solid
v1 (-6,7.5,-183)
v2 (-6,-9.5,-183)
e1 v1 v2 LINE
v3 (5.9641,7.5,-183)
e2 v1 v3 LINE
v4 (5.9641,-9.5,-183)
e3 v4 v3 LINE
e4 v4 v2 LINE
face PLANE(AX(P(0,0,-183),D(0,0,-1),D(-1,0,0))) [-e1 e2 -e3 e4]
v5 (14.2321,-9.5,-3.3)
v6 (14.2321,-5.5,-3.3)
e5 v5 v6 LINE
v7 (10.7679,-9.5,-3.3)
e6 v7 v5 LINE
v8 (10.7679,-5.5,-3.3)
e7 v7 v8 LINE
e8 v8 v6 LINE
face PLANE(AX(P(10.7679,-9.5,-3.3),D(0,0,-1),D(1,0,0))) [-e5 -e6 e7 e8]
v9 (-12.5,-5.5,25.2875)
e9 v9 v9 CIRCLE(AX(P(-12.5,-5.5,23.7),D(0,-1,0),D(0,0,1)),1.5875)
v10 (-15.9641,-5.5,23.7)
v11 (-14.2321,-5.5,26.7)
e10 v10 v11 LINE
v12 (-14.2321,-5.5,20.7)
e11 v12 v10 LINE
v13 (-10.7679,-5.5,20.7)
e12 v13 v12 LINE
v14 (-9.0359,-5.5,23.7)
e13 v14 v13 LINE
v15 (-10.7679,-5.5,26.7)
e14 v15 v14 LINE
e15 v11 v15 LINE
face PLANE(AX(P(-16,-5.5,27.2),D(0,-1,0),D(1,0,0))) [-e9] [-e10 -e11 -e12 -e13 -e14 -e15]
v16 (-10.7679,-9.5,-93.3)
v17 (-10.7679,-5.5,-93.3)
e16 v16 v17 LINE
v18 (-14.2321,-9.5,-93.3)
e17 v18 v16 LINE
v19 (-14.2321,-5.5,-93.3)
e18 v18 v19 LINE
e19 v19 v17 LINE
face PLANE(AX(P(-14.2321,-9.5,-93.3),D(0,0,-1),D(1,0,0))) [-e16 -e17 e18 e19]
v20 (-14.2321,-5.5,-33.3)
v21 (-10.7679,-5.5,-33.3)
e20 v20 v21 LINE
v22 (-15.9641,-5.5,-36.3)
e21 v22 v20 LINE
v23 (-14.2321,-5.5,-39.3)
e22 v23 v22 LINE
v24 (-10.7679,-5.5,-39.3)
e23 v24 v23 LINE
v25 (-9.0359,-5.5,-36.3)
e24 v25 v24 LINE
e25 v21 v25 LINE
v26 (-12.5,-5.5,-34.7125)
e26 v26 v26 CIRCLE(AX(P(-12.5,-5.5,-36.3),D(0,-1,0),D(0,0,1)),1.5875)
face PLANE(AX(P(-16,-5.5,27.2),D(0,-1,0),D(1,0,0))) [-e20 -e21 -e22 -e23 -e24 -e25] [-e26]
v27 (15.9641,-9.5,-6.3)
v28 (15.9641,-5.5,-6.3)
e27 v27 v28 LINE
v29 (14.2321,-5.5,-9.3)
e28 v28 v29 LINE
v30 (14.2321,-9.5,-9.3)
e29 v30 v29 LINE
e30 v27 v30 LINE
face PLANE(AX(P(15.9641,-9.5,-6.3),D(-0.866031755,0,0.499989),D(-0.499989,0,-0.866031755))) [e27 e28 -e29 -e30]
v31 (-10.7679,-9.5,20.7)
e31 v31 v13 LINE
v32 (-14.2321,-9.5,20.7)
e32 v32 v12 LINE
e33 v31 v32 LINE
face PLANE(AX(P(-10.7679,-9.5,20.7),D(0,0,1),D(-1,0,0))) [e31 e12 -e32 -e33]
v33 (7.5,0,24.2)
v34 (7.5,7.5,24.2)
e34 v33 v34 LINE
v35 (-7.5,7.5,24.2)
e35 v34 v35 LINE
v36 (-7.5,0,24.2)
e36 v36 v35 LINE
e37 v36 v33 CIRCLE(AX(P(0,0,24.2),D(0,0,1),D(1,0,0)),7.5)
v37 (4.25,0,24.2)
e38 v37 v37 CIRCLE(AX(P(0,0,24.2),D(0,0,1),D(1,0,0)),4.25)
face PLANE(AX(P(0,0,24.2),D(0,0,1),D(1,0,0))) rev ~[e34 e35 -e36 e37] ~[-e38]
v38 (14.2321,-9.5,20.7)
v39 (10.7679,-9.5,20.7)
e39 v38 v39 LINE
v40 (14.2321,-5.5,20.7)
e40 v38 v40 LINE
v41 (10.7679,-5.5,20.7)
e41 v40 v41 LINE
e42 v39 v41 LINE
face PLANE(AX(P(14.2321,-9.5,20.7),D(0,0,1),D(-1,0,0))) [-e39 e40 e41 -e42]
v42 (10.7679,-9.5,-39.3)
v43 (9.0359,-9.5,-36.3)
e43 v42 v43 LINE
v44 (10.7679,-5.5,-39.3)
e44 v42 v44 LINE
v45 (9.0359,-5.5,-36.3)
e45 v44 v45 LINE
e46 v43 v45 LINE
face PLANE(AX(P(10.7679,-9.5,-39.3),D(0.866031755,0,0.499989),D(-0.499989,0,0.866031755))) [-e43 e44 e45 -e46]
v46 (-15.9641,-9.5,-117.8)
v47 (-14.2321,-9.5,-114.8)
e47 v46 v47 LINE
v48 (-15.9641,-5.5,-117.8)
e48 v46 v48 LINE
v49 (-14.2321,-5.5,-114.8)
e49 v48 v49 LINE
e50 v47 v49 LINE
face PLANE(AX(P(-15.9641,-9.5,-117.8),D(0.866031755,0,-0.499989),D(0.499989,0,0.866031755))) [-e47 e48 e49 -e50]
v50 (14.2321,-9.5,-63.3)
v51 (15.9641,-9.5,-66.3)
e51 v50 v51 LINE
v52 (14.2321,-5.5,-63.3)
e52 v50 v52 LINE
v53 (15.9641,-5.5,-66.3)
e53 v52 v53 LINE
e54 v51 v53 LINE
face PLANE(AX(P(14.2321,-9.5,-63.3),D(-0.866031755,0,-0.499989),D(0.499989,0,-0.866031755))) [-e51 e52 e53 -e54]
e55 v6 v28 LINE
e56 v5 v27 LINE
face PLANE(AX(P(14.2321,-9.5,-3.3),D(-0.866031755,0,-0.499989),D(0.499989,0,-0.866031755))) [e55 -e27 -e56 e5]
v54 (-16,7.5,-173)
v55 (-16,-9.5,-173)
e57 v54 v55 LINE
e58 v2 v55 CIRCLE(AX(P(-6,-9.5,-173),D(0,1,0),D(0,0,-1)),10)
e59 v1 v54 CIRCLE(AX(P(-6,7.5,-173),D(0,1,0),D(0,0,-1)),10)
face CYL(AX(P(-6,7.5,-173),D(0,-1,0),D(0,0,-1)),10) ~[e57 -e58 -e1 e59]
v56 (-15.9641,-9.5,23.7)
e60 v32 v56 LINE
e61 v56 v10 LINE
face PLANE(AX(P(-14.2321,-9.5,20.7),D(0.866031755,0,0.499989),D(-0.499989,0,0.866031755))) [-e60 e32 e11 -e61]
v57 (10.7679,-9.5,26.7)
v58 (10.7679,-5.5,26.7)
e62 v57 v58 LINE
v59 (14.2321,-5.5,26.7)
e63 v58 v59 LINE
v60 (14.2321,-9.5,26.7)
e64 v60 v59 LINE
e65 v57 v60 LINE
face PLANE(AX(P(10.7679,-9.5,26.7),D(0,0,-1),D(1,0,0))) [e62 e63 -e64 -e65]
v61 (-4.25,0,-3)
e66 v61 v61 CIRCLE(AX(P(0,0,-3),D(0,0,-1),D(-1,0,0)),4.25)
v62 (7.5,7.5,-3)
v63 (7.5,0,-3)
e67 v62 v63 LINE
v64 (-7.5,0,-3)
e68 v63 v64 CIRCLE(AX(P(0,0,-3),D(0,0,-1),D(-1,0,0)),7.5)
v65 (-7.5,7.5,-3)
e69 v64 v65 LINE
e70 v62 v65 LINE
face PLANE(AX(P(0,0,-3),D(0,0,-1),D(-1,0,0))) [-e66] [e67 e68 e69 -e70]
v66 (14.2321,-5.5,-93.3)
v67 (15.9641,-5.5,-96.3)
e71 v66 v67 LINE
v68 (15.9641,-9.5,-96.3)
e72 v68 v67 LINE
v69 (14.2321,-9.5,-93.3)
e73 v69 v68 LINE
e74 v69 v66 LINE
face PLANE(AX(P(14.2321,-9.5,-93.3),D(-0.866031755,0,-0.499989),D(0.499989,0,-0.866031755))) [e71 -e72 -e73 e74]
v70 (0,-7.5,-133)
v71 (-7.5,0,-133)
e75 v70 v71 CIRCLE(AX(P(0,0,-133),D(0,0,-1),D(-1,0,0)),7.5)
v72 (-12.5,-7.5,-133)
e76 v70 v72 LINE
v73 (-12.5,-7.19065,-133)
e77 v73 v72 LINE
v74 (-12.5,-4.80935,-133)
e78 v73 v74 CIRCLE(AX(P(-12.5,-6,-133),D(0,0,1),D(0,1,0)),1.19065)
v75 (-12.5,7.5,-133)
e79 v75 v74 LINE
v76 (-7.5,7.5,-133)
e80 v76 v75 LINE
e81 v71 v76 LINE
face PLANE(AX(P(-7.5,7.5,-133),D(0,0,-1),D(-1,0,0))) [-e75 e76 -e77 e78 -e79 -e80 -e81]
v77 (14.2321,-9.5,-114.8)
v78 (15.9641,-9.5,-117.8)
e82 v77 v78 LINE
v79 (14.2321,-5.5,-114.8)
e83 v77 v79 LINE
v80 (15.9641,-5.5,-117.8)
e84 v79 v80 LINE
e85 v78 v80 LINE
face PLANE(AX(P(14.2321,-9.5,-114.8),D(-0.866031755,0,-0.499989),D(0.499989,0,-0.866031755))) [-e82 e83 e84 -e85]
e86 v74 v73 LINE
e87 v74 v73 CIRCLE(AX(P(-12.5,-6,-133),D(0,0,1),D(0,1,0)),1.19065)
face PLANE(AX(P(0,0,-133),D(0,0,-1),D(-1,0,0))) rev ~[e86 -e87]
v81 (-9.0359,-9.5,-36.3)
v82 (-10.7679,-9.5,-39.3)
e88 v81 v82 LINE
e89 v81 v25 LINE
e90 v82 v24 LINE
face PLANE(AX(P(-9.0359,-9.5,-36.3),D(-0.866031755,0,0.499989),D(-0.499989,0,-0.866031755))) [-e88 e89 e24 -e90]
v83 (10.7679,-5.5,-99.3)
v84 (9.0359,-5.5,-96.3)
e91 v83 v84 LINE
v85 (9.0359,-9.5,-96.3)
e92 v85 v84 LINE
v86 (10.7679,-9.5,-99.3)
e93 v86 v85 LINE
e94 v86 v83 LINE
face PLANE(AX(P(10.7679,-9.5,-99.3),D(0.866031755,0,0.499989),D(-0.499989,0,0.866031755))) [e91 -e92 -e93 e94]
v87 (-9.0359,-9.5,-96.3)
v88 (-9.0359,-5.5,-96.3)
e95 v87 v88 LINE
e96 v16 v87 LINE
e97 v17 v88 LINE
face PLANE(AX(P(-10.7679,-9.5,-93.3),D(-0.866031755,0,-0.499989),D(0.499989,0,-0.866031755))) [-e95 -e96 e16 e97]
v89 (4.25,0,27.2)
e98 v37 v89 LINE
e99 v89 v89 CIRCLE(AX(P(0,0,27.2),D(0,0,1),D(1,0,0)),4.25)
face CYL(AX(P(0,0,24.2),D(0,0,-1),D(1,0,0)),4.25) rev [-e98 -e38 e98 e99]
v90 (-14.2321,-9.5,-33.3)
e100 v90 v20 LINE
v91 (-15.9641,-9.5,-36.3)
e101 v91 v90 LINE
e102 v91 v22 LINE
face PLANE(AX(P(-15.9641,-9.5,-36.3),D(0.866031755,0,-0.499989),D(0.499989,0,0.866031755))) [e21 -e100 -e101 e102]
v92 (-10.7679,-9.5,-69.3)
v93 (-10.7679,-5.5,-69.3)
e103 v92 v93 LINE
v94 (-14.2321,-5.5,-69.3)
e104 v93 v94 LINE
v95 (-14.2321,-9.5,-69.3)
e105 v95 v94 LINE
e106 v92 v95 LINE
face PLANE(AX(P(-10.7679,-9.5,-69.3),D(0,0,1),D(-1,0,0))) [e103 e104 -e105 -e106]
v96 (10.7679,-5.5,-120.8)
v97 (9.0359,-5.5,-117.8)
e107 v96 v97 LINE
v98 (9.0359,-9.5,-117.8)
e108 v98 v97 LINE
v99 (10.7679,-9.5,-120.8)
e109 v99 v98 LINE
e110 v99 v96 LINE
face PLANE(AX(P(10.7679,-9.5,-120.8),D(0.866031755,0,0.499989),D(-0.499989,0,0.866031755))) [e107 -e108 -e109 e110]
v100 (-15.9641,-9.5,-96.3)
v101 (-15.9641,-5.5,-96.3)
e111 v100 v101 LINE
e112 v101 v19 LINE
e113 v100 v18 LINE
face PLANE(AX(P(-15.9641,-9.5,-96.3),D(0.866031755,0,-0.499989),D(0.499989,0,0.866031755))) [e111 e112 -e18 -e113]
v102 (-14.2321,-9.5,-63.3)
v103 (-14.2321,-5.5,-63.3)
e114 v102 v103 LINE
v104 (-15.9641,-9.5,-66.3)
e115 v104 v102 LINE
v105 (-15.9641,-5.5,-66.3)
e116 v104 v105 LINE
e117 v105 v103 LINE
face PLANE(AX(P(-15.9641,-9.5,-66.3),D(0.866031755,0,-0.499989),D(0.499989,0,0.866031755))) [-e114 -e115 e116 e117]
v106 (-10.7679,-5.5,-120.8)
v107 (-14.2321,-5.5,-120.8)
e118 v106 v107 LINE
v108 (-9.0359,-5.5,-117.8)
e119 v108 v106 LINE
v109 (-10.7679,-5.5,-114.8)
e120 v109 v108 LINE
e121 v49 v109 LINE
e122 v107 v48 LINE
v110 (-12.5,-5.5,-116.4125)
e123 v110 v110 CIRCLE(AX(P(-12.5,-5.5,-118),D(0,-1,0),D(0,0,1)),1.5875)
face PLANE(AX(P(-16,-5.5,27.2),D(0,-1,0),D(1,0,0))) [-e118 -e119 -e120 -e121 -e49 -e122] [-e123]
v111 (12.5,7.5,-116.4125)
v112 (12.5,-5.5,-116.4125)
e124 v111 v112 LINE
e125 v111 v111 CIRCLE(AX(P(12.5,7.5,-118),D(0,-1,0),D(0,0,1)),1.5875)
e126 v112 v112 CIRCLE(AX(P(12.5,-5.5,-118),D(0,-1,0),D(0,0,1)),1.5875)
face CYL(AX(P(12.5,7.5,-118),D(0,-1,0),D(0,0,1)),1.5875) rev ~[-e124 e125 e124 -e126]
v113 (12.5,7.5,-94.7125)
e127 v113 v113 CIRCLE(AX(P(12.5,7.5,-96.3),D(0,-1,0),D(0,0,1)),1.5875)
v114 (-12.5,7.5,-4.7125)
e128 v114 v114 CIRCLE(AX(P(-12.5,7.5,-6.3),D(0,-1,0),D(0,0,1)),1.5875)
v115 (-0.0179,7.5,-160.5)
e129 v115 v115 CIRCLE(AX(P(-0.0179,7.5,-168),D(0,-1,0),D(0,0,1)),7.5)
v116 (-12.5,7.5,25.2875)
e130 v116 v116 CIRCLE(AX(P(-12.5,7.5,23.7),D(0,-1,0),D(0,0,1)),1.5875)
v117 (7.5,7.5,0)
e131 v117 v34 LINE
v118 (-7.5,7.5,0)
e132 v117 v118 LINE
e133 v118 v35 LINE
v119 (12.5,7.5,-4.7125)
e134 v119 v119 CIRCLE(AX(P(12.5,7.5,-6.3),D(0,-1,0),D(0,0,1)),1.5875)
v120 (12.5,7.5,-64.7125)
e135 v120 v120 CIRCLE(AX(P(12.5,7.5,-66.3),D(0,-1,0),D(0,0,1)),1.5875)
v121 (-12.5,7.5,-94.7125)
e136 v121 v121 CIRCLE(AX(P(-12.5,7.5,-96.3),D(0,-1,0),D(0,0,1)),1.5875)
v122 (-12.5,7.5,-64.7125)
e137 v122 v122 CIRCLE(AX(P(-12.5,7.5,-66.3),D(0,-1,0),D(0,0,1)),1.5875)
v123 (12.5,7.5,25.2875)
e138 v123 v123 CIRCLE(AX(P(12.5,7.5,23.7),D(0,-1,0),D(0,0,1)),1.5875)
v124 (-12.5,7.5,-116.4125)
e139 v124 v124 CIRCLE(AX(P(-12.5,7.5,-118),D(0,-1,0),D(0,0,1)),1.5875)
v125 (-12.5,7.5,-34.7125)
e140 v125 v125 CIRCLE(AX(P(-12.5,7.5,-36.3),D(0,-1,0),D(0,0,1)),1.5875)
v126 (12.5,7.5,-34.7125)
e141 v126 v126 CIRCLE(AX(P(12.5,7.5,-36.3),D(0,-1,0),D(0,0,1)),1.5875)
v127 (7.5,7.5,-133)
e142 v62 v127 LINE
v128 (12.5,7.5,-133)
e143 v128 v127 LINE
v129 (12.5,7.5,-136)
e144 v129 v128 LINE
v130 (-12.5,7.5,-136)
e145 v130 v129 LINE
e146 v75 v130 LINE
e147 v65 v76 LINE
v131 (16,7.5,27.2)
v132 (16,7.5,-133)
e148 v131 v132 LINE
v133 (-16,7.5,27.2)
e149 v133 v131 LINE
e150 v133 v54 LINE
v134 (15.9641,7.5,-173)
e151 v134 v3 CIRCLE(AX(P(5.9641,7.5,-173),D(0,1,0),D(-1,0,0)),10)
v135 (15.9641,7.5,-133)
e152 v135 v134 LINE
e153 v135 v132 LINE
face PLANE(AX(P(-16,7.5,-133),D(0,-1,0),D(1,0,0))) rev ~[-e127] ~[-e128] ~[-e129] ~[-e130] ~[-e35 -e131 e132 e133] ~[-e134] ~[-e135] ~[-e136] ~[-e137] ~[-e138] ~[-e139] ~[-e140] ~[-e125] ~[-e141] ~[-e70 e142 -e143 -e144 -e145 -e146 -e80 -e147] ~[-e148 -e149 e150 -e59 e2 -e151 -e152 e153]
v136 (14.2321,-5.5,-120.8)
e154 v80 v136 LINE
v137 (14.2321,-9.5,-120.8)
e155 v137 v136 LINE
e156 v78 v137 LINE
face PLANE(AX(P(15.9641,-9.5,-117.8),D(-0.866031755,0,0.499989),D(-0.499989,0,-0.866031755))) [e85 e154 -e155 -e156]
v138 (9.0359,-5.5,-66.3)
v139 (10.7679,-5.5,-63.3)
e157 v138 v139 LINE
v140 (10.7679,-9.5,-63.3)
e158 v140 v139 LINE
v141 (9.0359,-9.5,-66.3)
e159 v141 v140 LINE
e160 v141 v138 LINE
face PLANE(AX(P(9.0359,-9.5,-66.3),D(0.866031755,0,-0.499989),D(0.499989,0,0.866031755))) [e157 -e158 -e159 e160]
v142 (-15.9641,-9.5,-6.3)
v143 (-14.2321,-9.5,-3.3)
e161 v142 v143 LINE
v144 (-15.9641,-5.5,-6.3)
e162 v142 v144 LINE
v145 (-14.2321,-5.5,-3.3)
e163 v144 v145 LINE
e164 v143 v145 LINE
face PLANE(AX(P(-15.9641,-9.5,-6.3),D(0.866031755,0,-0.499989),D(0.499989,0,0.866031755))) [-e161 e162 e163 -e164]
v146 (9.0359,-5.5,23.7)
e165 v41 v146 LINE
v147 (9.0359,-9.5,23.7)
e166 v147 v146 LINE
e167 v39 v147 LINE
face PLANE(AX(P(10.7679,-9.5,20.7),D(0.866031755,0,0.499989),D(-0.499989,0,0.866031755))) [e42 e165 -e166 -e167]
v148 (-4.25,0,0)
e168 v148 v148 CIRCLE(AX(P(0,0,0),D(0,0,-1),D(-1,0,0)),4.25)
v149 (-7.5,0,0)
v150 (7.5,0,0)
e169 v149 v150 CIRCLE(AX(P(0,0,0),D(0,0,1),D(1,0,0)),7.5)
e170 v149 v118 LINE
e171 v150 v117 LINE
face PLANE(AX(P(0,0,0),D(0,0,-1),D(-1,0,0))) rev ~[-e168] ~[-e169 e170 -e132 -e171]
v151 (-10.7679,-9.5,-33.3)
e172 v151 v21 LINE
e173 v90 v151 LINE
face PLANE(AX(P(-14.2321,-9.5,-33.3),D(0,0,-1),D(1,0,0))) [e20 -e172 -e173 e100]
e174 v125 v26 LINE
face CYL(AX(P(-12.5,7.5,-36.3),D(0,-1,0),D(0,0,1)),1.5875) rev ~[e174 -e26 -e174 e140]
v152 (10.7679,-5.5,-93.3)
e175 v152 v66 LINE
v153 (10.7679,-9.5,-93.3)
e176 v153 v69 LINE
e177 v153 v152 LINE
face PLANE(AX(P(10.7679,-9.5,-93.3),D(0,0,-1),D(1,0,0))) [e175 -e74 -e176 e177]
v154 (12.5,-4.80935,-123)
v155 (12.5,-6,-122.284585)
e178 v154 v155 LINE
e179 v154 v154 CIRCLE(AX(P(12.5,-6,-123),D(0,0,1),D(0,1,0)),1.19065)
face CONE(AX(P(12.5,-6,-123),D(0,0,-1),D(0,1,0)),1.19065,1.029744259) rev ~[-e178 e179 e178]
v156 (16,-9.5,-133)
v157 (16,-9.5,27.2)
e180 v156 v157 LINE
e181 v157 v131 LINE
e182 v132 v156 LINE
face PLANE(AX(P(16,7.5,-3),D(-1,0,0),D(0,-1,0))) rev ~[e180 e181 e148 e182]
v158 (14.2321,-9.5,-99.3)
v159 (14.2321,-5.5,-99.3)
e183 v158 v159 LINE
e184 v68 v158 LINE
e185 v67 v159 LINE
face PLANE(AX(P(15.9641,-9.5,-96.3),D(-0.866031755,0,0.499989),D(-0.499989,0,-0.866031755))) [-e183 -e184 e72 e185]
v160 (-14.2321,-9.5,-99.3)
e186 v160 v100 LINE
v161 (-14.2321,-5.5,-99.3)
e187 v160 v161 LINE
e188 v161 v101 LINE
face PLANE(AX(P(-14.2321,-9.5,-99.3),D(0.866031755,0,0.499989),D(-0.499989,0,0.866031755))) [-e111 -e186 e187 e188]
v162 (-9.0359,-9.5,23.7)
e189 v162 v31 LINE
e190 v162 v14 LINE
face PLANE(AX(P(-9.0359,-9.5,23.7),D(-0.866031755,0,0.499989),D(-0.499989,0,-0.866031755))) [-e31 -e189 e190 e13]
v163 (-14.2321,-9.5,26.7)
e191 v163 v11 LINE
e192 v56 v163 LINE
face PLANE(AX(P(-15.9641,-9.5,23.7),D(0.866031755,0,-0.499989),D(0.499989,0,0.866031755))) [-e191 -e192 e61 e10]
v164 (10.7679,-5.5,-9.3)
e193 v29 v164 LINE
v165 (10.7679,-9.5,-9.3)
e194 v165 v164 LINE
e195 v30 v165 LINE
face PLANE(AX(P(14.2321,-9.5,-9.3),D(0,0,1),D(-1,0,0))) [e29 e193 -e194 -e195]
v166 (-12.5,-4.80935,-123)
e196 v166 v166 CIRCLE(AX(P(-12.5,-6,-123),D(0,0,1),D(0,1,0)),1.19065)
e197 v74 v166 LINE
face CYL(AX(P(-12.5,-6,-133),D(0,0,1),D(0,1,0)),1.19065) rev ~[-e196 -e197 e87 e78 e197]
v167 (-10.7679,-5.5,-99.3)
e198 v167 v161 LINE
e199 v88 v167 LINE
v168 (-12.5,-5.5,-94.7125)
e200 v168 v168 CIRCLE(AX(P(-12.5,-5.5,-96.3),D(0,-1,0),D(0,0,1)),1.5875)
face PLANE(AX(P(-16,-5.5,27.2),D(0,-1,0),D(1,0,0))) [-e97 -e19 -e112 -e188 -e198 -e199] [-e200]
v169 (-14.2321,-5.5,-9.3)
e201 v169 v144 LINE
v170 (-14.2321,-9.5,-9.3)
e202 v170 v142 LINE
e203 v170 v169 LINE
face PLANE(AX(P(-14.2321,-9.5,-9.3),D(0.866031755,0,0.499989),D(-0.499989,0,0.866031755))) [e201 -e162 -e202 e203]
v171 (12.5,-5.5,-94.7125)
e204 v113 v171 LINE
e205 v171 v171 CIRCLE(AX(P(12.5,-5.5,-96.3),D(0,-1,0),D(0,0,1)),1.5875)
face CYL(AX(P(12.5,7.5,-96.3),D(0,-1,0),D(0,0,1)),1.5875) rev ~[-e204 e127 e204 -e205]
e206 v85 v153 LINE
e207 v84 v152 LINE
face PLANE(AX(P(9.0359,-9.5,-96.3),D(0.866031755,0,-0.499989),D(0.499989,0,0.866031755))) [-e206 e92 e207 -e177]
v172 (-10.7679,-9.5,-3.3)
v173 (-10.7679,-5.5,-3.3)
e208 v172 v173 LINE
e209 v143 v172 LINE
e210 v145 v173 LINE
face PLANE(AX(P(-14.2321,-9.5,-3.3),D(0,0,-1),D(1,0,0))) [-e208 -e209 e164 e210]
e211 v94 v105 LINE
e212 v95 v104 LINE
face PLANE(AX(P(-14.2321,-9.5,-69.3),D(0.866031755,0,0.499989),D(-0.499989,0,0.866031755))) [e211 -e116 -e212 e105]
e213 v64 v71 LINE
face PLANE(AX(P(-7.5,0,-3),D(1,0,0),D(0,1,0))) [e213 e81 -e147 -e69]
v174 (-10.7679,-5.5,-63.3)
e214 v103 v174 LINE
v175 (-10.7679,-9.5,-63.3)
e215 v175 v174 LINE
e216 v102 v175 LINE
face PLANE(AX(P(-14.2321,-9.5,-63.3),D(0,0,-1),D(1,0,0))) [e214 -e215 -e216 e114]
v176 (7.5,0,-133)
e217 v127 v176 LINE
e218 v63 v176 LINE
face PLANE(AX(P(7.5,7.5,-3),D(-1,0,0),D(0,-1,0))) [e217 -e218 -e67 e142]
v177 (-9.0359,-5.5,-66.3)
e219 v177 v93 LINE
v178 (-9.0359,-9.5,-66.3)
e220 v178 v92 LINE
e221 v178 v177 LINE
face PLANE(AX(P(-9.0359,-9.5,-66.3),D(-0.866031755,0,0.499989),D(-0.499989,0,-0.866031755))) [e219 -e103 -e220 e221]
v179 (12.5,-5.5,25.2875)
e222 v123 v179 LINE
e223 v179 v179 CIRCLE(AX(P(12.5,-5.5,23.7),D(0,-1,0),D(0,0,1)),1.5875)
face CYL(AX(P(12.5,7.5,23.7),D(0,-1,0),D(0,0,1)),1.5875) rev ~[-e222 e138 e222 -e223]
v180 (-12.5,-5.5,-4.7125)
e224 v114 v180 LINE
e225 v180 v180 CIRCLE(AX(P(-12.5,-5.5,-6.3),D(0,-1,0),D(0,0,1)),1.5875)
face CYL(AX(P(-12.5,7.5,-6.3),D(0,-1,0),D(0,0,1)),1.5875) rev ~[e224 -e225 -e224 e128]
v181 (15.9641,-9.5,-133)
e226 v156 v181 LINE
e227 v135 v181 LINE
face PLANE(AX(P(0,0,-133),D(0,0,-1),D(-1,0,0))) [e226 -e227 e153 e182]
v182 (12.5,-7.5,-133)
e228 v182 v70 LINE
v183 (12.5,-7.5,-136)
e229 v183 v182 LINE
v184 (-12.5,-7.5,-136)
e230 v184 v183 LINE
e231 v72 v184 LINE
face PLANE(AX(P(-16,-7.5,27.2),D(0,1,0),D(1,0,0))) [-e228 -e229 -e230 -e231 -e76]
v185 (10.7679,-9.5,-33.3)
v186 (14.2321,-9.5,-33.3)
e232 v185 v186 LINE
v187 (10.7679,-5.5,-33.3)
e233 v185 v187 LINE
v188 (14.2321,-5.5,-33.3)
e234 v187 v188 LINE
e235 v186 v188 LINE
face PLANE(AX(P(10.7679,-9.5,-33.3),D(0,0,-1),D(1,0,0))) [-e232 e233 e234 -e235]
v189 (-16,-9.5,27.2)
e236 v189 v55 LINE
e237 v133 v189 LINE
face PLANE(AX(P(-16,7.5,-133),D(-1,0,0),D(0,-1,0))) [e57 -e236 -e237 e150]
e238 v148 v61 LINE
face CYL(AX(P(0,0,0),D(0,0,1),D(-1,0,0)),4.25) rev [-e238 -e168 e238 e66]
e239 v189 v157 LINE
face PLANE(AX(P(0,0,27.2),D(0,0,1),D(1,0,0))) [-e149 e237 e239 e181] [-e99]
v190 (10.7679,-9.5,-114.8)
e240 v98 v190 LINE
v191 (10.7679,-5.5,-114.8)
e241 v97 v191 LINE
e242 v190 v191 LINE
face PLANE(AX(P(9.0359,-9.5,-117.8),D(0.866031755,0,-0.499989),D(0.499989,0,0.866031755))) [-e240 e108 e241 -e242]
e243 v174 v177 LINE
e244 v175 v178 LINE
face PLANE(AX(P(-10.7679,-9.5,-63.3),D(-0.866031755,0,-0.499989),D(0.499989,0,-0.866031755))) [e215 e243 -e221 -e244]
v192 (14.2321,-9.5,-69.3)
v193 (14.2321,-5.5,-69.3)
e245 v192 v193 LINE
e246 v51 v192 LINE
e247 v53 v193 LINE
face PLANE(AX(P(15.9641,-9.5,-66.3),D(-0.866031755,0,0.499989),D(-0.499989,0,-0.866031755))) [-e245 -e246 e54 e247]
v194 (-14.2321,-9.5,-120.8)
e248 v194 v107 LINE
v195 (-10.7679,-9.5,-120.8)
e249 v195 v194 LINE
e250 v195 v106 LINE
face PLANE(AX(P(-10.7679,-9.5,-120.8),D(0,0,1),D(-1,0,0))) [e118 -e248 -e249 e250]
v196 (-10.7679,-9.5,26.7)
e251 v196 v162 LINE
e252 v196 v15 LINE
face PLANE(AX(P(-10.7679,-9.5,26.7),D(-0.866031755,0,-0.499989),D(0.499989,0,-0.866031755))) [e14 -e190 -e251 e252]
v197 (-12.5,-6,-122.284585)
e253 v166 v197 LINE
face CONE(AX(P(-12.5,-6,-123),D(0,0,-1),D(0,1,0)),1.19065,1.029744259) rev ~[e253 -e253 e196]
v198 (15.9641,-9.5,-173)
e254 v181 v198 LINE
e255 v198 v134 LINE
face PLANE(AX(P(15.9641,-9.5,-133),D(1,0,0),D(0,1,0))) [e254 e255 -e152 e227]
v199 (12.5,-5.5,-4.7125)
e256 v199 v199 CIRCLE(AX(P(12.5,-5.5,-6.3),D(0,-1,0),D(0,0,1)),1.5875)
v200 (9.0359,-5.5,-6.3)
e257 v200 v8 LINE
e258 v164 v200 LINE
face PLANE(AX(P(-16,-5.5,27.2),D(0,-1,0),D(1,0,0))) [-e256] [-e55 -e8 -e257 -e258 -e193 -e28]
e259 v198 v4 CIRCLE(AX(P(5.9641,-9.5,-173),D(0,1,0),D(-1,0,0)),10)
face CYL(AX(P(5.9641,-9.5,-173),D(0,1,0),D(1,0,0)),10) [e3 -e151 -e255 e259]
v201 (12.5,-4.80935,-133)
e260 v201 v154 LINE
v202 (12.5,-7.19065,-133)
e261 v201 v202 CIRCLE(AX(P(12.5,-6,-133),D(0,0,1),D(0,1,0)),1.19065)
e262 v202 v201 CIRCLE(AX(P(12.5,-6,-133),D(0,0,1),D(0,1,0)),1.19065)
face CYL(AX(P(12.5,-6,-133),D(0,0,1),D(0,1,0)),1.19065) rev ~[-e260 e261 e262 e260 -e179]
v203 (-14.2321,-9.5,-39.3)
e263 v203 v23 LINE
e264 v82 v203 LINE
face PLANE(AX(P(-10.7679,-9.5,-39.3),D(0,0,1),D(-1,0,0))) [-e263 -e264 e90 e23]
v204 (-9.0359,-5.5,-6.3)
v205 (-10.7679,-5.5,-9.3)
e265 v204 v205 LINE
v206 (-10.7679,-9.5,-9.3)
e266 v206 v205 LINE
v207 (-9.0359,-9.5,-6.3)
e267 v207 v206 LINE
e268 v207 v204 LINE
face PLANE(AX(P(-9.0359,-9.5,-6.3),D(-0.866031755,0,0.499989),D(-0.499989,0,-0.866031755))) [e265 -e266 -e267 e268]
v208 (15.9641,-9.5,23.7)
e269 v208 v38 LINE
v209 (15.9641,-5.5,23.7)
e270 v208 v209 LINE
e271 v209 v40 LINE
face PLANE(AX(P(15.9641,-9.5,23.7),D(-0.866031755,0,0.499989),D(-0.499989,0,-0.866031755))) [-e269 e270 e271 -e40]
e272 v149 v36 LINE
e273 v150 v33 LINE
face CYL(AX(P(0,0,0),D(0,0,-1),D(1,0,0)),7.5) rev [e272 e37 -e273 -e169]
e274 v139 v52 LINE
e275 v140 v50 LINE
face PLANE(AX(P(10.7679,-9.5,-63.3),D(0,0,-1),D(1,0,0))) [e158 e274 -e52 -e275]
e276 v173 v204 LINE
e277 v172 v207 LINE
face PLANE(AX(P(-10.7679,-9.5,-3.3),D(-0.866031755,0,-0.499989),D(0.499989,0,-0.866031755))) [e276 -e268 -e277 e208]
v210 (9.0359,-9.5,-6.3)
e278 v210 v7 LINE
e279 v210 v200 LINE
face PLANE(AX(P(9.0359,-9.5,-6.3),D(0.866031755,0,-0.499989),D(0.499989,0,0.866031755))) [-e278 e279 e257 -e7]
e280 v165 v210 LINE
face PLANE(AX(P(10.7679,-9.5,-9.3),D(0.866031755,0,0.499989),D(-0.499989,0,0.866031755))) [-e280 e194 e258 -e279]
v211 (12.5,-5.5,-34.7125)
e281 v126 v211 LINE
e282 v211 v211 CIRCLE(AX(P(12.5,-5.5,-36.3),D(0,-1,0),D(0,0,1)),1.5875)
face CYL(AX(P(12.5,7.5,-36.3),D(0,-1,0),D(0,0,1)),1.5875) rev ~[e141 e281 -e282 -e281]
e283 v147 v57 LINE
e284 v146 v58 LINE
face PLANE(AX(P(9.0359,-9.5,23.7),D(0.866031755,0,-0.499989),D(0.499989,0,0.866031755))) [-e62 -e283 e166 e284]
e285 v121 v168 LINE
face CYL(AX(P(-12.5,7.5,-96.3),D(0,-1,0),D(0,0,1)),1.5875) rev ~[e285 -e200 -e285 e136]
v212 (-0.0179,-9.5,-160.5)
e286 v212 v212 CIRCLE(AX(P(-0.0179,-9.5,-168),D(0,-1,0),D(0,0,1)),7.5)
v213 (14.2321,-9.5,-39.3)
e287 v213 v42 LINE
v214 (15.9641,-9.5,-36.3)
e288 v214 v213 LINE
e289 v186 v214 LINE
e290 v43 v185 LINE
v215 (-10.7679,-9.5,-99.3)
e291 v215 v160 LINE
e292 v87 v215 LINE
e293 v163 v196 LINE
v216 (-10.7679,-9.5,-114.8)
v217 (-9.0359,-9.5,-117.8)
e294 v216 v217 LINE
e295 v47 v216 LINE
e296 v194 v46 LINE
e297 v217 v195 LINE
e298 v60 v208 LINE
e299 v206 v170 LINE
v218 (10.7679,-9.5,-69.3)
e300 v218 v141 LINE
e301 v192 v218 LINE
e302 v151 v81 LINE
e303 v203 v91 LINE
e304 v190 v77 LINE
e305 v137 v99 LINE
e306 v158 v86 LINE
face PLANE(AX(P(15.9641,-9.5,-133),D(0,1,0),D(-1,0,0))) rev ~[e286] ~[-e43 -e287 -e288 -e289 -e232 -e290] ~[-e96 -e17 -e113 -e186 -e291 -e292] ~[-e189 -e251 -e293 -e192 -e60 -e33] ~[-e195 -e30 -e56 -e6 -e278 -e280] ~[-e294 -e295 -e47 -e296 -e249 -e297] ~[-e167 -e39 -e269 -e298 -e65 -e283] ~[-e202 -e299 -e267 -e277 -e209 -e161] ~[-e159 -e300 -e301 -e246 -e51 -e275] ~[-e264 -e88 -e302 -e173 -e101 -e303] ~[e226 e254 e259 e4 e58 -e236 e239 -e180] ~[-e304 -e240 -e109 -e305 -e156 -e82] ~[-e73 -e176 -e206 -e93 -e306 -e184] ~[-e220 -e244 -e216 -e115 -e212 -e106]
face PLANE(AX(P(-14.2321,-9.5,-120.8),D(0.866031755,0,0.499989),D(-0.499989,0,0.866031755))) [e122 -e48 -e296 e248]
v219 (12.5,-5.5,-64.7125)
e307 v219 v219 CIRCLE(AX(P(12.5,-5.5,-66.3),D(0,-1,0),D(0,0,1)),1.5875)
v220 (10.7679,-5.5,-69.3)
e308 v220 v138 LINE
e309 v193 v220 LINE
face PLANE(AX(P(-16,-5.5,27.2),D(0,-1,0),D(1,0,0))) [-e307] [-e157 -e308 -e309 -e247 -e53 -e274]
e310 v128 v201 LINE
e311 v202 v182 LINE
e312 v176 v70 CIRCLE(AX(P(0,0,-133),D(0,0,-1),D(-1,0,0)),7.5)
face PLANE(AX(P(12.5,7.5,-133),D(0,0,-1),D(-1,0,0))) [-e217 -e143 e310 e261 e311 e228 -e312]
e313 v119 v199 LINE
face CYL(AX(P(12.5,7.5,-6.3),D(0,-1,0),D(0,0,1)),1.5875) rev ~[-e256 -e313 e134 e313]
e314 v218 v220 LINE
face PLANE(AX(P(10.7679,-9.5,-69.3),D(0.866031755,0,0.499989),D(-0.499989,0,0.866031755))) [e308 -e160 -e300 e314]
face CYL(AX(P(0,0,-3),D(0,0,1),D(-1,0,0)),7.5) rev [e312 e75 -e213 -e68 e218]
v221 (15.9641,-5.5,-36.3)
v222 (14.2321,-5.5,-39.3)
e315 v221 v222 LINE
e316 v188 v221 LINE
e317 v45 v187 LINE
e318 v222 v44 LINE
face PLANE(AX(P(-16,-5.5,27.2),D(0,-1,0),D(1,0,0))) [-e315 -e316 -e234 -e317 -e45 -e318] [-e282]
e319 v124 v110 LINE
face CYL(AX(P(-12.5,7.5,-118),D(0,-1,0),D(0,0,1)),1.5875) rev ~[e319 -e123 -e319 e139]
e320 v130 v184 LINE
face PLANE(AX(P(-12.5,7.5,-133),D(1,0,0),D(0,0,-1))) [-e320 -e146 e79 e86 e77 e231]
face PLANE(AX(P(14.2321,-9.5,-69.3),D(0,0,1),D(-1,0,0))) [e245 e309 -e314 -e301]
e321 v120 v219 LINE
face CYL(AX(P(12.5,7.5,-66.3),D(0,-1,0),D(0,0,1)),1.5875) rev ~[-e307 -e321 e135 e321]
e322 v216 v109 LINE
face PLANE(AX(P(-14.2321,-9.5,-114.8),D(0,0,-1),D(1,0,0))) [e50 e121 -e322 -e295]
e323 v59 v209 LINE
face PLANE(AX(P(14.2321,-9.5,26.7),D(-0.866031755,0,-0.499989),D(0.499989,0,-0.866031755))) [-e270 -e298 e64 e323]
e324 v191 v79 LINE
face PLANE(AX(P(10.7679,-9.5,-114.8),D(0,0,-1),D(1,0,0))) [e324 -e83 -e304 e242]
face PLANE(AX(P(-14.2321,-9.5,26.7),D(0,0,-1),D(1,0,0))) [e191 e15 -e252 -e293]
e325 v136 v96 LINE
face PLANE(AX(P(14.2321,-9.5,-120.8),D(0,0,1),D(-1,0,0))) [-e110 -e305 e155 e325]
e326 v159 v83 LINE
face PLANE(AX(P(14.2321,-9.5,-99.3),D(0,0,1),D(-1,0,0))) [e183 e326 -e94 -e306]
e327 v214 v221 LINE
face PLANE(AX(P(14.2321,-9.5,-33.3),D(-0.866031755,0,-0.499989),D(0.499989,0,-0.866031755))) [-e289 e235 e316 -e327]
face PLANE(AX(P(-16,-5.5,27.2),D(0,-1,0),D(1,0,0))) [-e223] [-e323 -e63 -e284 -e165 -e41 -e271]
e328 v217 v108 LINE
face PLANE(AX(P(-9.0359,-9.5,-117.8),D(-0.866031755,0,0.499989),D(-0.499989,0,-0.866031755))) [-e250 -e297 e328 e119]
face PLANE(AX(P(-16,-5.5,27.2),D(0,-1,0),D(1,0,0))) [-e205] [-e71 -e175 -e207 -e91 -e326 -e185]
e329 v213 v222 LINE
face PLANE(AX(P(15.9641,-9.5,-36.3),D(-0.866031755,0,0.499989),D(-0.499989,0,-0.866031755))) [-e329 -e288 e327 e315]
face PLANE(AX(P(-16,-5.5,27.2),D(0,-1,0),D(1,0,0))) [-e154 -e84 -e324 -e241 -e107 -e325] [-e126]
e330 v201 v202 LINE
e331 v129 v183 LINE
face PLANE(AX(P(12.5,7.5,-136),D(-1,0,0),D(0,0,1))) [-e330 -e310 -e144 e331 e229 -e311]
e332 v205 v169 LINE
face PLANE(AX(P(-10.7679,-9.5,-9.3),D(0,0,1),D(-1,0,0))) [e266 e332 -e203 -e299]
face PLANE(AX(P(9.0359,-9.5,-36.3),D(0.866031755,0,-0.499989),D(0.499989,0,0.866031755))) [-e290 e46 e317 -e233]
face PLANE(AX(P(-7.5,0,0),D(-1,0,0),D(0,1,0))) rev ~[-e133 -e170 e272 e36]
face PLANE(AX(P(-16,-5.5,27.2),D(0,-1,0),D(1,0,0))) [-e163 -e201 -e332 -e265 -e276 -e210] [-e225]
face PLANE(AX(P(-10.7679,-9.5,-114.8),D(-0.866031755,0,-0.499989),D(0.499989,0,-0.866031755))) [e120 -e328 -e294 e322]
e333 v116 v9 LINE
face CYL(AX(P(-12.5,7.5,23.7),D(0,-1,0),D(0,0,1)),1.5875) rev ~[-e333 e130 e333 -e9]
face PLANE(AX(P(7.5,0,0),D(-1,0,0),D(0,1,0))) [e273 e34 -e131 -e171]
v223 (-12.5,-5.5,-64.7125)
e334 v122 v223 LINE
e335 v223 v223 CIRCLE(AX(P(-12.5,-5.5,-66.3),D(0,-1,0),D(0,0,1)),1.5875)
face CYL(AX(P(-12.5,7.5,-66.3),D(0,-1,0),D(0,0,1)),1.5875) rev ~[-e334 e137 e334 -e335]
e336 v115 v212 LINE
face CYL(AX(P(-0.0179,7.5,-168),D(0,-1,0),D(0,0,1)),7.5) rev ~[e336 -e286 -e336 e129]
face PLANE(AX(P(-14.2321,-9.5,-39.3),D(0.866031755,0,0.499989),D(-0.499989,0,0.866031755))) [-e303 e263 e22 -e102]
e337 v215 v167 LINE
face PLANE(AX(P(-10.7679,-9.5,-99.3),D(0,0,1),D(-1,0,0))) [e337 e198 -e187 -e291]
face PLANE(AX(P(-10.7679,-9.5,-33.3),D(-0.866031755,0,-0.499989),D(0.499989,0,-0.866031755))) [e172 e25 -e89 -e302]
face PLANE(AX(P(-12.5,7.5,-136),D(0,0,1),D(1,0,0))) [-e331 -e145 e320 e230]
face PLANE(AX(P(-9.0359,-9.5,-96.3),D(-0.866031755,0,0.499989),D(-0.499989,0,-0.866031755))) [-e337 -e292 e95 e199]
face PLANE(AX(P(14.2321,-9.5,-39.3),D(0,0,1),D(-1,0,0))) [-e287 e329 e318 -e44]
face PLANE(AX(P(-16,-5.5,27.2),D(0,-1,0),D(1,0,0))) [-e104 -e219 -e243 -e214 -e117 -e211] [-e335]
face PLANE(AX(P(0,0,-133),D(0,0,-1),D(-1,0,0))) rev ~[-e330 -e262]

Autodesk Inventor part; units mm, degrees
ref_plane "YZ Plane" through (0, 0, 0) normal (1, 0, 0) x (0, 1, 0)
ref_plane "XZ Plane" through (0, 0, 0) normal (0, 1, 0) x (-1, 0, 0)
ref_plane "XY Plane" through (0, 0, 0) normal (0, 0, 1) x (1, 0, 0)
sketch "Sketch1" plane through (0, 0, 0) normal (0, 0, 1) x (1, 0, 0)
  circle A0 centre (0, 0) radius 7.5
  line L0 (-16, 7.5) -> (16, 7.5)
  line L1 (16, 7.5) -> (16, -9.5)
  line L2 (16, -9.5) -> (-16, -9.5)
  line L3 (-16, -9.5) -> (-16, 7.5)
  line L4 (-7.5, 0) -> (-7.5, 7.5)
  line L5 (7.5, 0) -> (7.5, 7.5)
  point P0 (0, -9.5)
  dimension "d0" = 15
  dimension "d5" = 32
  dimension "d6" = 2
extrude "Extrusion1" add sketch "Sketch1" along normal blind 24.2 contours A0 L5 L0 L1 L2 L3 L4
sketch "Sketch2" plane through (0, 0, 24.2) normal (0, 0, 1) x (1, 0, 0)
  line L0 (-16, -9.5) -> (16, -9.5) projected
  line L1 (16, -9.5) -> (16, 7.5) projected
  line L2 (16, 7.5) -> (7.5, 7.5) projected
  line L3 (7.5, 7.5) -> (7.5, 0) projected
  arc A0 (-7.5, 0) -> (7.5, 0) centre (0, 0) ccw projected
  line L4 (-7.5, 0) -> (-7.5, 7.5) projected
  line L5 (-7.5, 7.5) -> (-16, 7.5) projected
  line L6 (-16, 7.5) -> (-16, -9.5) projected
  circle A1 centre (0, 0) radius 4.25
  line L7 (-7.5, 7.5) -> (-16, 7.5) projected
  line L8 (-7.5, 7.5) -> (7.5, 7.5)
  dimension "d10" = 8.5
extrude "Extrusion3" add sketch "Sketch2" along normal blind 3
sketch "Sketch4" plane through (0, 0, 0) normal (0, 0, -1) x (-1, 0, 0)
  line L0 (-16, 7.5) -> (-7.5, 7.5) projected
  line L1 (-16, -9.5) -> (-16, 7.5) projected
  line L2 (16, -9.5) -> (-16, -9.5) projected
  line L3 (16, 7.5) -> (16, -9.5) projected
  line L4 (7.5, 7.5) -> (16, 7.5) projected
  line L5 (-7.5, 7.5) -> (7.5, 7.5) projected
  circle A0 centre (0, 0) radius 4.25 projected
extrude "Extrusion4" add sketch "Sketch4" along normal blind 3
sketch "Sketch5" plane through (0, 0, -3) normal (0, 0, -1) x (-1, 0, 0)
  line L0 (16, 7.5) -> (-16, 7.5) projected
  line L1 (16, -9.5) -> (16, 7.5) projected
  line L2 (-16, -9.5) -> (16, -9.5) projected
  line L3 (-16, 7.5) -> (-16, -9.5) projected
  circle A0 centre (0, 0) radius 7.5
  arc A1 (-7.5, 0) -> (7.5, 0) centre (0, 0) ccw projected
  line L4 (7.5, 0) -> (7.5, 7.5)
  line L5 (-16, 7.5) -> (16, 7.5) projected
  line L6 (-7.5, 7.5) -> (-7.5, 0) projected
  line L7 (-7.5, 0) -> (-7.5, 7.5)
extrude "Extrusion5" add sketch "Sketch5" along normal blind 130 contours L1 L2 L3 L0 L6 A0 L4
sketch "Sketch6" plane through (0, 0, -133) normal (0, 0, -1) x (-1, 0, 0)
  line L0 (0, 0) -> (0, -9.5) construction
  line L1 (16, -9.5) -> (-16, -9.5) construction
  line L2 (-16, 7.5) -> (-16, -9.5) construction
  point P0 (-12.5, -6)
  point P1 (12.5, -6)
  dimension "d17" = 3.5
  dimension "d18" = 3.5
hole "Hole1" at (12.5, -6, -133) at (-12.5, -6, -133) direction (0, 0, 1) diameter 2.3813 depth 10 tip angle 118
sketch "Sketch7" plane through (-16, 7.5, 27.2) normal (0, 1, 0) x (1, 0, 0)
  line L0 (16, 0) -> (16, 160.2) construction
  line L1 (32, 160.2) -> (0, 160.2) projected
  line L2 (0, 160.2) -> (0, 0) projected
  line L3 (32, 0) -> (0, 0) projected
  point P0 (16, 27.2)
  point P1 (3.5, 3.5)
  point P2 (3.5, 33.5)
  point P3 (3.5, 63.5)
  point P4 (3.5, 93.5)
  point P5 (3.5, 123.5)
  point P6 (3.5, 145.2)
  point P7 (28.5, 3.5)
  point P8 (28.5, 33.5)
  point P9 (28.5, 63.5)
  point P10 (28.5, 93.5)
  point P11 (28.5, 123.5)
  point P12 (28.5, 145.2)
  dimension "d27" = 3.5
  dimension "d44" = 30
  dimension "d49" = 3.5
  dimension "d50" = 15
hole "Hole3" at (-12.5, 7.5, 23.7) at (-12.5, 7.5, -6.3) at (-12.5, 7.5, -36.3) at (-12.5, 7.5, -66.3) at (-12.5, 7.5, -96.3) at (-12.5, 7.5, -118) at (12.5, 7.5, 23.7) at (12.5, 7.5, -6.3) at (12.5, 7.5, -36.3) at (12.5, 7.5, -66.3) at (12.5, 7.5, -96.3) at (12.5, 7.5, -118) direction (0, -1, 0) diameter 3.175 end through all
sketch "Sketch8" plane through (-16, -9.5, 27.2) normal (0, -1, 0) x (1, 0, 0)
  circle A0 centre (28.5, -3.5) radius 1.5875 projected
  line L0 (30.2321, -6.5) -> (26.7679, -6.5)
  line L1 (26.7679, -6.5) -> (25.0359, -3.5)
  line L2 (25.0359, -3.5) -> (26.7679, -0.5)
  line L3 (26.7679, -0.5) -> (30.2321, -0.5)
  line L4 (30.2321, -0.5) -> (31.9641, -3.5)
  line L5 (31.9641, -3.5) -> (30.2321, -6.5)
  line L6 (5.2321, -6.5) -> (1.7679, -6.5)
  line L7 (1.7679, -0.5) -> (5.2321, -0.5)
  line L8 (5.2321, -0.5) -> (6.9641, -3.5)
  line L9 (6.9641, -3.5) -> (5.2321, -6.5)
  line L10 (1.7679, -6.5) -> (0.0359, -3.5)
  line L11 (0.0359, -3.5) -> (1.7679, -0.5)
  line L12 (0, 0) -> (0, -160.2) projected
  line L13 (1.7679, -36.5) -> (0.0359, -33.5)
  line L14 (0.0359, -33.5) -> (1.7679, -30.5)
  line L15 (1.7679, -30.5) -> (5.2321, -30.5)
  line L16 (5.2321, -30.5) -> (6.9641, -33.5)
  line L17 (6.9641, -33.5) -> (5.2321, -36.5)
  line L18 (25.0359, -33.5) -> (26.7679, -30.5)
  line L19 (26.7679, -36.5) -> (25.0359, -33.5)
  line L20 (30.2321, -36.5) -> (26.7679, -36.5)
  line L21 (31.9641, -33.5) -> (30.2321, -36.5)
  line L22 (30.2321, -30.5) -> (31.9641, -33.5)
  line L23 (26.7679, -30.5) -> (30.2321, -30.5)
  line L24 (1.7679, -66.5) -> (0.0359, -63.5)
  line L25 (0.0359, -63.5) -> (1.7679, -60.5)
  line L26 (1.7679, -60.5) -> (5.2321, -60.5)
  line L27 (5.2321, -60.5) -> (6.9641, -63.5)
  line L28 (6.9641, -63.5) -> (5.2321, -66.5)
  line L29 (25.0359, -63.5) -> (26.7679, -60.5)
  line L30 (26.7679, -66.5) -> (25.0359, -63.5)
  line L31 (30.2321, -66.5) -> (26.7679, -66.5)
  line L32 (31.9641, -63.5) -> (30.2321, -66.5)
  line L33 (30.2321, -60.5) -> (31.9641, -63.5)
  line L34 (26.7679, -60.5) -> (30.2321, -60.5)
  line L35 (1.7679, -96.5) -> (0.0359, -93.5)
  line L36 (0.0359, -93.5) -> (1.7679, -90.5)
  line L37 (1.7679, -90.5) -> (5.2321, -90.5)
  line L38 (5.2321, -90.5) -> (6.9641, -93.5)
  line L39 (6.9641, -93.5) -> (5.2321, -96.5)
  line L40 (25.0359, -93.5) -> (26.7679, -90.5)
  line L41 (26.7679, -96.5) -> (25.0359, -93.5)
  line L42 (30.2321, -96.5) -> (26.7679, -96.5)
  line L43 (31.9641, -93.5) -> (30.2321, -96.5)
  line L44 (30.2321, -90.5) -> (31.9641, -93.5)
  line L45 (26.7679, -90.5) -> (30.2321, -90.5)
  line L46 (1.7679, -126.5) -> (0.0359, -123.5)
  line L47 (0.0359, -123.5) -> (1.7679, -120.5)
  line L48 (1.7679, -120.5) -> (5.2321, -120.5)
  line L49 (5.2321, -120.5) -> (6.9641, -123.5)
  line L50 (6.9641, -123.5) -> (5.2321, -126.5)
  line L51 (25.0359, -123.5) -> (26.7679, -120.5)
  line L52 (26.7679, -126.5) -> (25.0359, -123.5)
  line L53 (30.2321, -126.5) -> (26.7679, -126.5)
  line L54 (31.9641, -123.5) -> (30.2321, -126.5)
  line L55 (30.2321, -120.5) -> (31.9641, -123.5)
  line L56 (26.7679, -120.5) -> (30.2321, -120.5)
  line L57 (5.2321, -36.5) -> (1.7679, -36.5)
  line L58 (5.2321, -66.5) -> (1.7679, -66.5)
  line L59 (5.2321, -96.5) -> (1.7679, -96.5)
  line L60 (5.2321, -126.5) -> (1.7679, -126.5)
  line L61 (30.2321, -148) -> (26.7679, -148)
  line L62 (31.9641, -145) -> (30.2321, -148)
  line L63 (30.2321, -142) -> (31.9641, -145)
  line L64 (26.7679, -142) -> (30.2321, -142)
  line L65 (25.0359, -145) -> (26.7679, -142)
  line L66 (26.7679, -148) -> (25.0359, -145)
  line L67 (5.2321, -142) -> (6.9641, -145)
  line L68 (6.9641, -145) -> (5.2321, -148)
  line L69 (5.2321, -148) -> (1.7679, -148)
  line L70 (1.7679, -148) -> (0.0359, -145)
  line L71 (0.0359, -145) -> (1.7679, -142)
  line L72 (1.7679, -142) -> (5.2321, -142)
  point P0 (16, -27.2)
  point P1 (1.7679, -126.5)
  point P2 (5.2321, -126.5)
  dimension "d58" = 6
  dimension "d61" = 25
  dimension "d68" = 30
  dimension "d75" = 30
  dimension "d82" = 21.5
extrude "Extrusion6" cut sketch "Sketch8" against normal blind 4 contours A0 | L0 L1 L2 L3 L4 L5 | L6 L10 L11 L7 L8 L9 | L13 L14 L15 L16 L17 L57 | L18 L23 L22 L21 L20 L19 | L24 L25 L26 L27 L28 L58 | L29 L34 L33 L32 L31 L30 | L35 L36 L37 L38 L39 L59 | L40 L45 L44 L43 L42 L41 | L46 L47 L48 L49 L50 L60 | L51 L56 L55 L54 L53 L52 | L61 L66 L65 L64 L63 L62 | L67 L68 L69 L70 L71 L72
sketch "Sketch9" plane through (0, 0, -133) normal (0, 0, -1) x (-1, 0, 0)
  line L0 (-15.9641, -9.5) -> (-15.9641, -5.5) projected
  line L1 (16, 7.5) -> (16, -9.5) projected
  line L2 (-15.9641, -9.5) -> (16, -9.5)
  line L3 (16, -9.5) -> (16, 7.5)
  line L4 (16, 7.5) -> (-15.9641, 7.5)
  line L5 (-15.9641, 7.5) -> (-15.9641, -9.5)
  point P0 (0, 0)
extrude "Extrusion7" add sketch "Sketch9" along normal blind 50
fillet "Fillet1" radius 10 2 edges at (15.9641, -1, -183) (-16, -1, -183)
sketch "Sketch10" plane through (-16, 7.5, 27.2) normal (0, 1, 0) x (1, 0, 0)
  line L0 (10, 210.2) -> (21.9641, 210.2) projected
  point P0 (16, 27.2)
  point P1 (15.9821, 195.2)
  point P2 (15.9821, 210.2)
  point P3 (15.9821, 210.2)
  dimension "d94" = 15
hole "Hole4" at (-0.0179, 7.5, -168) direction (0, -1, 0) diameter 15 end through all
sketch "Sketch11" plane through (-16, 7.5, 27.2) normal (0, 1, 0) x (1, 0, 0)
  line L0 (28.5, 160.2) -> (3.5, 160.2)
  line L1 (3.5, 160.2) -> (3.5, 163.2)
  line L2 (3.5, 163.2) -> (28.5, 163.2)
  line L3 (28.5, 163.2) -> (28.5, 160.2)
  line L4 (8.5, 160.2) -> (23.5, 160.2) projected
  point P0 (16, 27.2)
  point P1 (3.5, 161.7)
  point P2 (16, 160.2)
  dimension "d102" = 25
  dimension "d103" = 3
extrude "Extrusion8" cut sketch "Sketch11" against normal blind 15
properties part number "body_v3"
